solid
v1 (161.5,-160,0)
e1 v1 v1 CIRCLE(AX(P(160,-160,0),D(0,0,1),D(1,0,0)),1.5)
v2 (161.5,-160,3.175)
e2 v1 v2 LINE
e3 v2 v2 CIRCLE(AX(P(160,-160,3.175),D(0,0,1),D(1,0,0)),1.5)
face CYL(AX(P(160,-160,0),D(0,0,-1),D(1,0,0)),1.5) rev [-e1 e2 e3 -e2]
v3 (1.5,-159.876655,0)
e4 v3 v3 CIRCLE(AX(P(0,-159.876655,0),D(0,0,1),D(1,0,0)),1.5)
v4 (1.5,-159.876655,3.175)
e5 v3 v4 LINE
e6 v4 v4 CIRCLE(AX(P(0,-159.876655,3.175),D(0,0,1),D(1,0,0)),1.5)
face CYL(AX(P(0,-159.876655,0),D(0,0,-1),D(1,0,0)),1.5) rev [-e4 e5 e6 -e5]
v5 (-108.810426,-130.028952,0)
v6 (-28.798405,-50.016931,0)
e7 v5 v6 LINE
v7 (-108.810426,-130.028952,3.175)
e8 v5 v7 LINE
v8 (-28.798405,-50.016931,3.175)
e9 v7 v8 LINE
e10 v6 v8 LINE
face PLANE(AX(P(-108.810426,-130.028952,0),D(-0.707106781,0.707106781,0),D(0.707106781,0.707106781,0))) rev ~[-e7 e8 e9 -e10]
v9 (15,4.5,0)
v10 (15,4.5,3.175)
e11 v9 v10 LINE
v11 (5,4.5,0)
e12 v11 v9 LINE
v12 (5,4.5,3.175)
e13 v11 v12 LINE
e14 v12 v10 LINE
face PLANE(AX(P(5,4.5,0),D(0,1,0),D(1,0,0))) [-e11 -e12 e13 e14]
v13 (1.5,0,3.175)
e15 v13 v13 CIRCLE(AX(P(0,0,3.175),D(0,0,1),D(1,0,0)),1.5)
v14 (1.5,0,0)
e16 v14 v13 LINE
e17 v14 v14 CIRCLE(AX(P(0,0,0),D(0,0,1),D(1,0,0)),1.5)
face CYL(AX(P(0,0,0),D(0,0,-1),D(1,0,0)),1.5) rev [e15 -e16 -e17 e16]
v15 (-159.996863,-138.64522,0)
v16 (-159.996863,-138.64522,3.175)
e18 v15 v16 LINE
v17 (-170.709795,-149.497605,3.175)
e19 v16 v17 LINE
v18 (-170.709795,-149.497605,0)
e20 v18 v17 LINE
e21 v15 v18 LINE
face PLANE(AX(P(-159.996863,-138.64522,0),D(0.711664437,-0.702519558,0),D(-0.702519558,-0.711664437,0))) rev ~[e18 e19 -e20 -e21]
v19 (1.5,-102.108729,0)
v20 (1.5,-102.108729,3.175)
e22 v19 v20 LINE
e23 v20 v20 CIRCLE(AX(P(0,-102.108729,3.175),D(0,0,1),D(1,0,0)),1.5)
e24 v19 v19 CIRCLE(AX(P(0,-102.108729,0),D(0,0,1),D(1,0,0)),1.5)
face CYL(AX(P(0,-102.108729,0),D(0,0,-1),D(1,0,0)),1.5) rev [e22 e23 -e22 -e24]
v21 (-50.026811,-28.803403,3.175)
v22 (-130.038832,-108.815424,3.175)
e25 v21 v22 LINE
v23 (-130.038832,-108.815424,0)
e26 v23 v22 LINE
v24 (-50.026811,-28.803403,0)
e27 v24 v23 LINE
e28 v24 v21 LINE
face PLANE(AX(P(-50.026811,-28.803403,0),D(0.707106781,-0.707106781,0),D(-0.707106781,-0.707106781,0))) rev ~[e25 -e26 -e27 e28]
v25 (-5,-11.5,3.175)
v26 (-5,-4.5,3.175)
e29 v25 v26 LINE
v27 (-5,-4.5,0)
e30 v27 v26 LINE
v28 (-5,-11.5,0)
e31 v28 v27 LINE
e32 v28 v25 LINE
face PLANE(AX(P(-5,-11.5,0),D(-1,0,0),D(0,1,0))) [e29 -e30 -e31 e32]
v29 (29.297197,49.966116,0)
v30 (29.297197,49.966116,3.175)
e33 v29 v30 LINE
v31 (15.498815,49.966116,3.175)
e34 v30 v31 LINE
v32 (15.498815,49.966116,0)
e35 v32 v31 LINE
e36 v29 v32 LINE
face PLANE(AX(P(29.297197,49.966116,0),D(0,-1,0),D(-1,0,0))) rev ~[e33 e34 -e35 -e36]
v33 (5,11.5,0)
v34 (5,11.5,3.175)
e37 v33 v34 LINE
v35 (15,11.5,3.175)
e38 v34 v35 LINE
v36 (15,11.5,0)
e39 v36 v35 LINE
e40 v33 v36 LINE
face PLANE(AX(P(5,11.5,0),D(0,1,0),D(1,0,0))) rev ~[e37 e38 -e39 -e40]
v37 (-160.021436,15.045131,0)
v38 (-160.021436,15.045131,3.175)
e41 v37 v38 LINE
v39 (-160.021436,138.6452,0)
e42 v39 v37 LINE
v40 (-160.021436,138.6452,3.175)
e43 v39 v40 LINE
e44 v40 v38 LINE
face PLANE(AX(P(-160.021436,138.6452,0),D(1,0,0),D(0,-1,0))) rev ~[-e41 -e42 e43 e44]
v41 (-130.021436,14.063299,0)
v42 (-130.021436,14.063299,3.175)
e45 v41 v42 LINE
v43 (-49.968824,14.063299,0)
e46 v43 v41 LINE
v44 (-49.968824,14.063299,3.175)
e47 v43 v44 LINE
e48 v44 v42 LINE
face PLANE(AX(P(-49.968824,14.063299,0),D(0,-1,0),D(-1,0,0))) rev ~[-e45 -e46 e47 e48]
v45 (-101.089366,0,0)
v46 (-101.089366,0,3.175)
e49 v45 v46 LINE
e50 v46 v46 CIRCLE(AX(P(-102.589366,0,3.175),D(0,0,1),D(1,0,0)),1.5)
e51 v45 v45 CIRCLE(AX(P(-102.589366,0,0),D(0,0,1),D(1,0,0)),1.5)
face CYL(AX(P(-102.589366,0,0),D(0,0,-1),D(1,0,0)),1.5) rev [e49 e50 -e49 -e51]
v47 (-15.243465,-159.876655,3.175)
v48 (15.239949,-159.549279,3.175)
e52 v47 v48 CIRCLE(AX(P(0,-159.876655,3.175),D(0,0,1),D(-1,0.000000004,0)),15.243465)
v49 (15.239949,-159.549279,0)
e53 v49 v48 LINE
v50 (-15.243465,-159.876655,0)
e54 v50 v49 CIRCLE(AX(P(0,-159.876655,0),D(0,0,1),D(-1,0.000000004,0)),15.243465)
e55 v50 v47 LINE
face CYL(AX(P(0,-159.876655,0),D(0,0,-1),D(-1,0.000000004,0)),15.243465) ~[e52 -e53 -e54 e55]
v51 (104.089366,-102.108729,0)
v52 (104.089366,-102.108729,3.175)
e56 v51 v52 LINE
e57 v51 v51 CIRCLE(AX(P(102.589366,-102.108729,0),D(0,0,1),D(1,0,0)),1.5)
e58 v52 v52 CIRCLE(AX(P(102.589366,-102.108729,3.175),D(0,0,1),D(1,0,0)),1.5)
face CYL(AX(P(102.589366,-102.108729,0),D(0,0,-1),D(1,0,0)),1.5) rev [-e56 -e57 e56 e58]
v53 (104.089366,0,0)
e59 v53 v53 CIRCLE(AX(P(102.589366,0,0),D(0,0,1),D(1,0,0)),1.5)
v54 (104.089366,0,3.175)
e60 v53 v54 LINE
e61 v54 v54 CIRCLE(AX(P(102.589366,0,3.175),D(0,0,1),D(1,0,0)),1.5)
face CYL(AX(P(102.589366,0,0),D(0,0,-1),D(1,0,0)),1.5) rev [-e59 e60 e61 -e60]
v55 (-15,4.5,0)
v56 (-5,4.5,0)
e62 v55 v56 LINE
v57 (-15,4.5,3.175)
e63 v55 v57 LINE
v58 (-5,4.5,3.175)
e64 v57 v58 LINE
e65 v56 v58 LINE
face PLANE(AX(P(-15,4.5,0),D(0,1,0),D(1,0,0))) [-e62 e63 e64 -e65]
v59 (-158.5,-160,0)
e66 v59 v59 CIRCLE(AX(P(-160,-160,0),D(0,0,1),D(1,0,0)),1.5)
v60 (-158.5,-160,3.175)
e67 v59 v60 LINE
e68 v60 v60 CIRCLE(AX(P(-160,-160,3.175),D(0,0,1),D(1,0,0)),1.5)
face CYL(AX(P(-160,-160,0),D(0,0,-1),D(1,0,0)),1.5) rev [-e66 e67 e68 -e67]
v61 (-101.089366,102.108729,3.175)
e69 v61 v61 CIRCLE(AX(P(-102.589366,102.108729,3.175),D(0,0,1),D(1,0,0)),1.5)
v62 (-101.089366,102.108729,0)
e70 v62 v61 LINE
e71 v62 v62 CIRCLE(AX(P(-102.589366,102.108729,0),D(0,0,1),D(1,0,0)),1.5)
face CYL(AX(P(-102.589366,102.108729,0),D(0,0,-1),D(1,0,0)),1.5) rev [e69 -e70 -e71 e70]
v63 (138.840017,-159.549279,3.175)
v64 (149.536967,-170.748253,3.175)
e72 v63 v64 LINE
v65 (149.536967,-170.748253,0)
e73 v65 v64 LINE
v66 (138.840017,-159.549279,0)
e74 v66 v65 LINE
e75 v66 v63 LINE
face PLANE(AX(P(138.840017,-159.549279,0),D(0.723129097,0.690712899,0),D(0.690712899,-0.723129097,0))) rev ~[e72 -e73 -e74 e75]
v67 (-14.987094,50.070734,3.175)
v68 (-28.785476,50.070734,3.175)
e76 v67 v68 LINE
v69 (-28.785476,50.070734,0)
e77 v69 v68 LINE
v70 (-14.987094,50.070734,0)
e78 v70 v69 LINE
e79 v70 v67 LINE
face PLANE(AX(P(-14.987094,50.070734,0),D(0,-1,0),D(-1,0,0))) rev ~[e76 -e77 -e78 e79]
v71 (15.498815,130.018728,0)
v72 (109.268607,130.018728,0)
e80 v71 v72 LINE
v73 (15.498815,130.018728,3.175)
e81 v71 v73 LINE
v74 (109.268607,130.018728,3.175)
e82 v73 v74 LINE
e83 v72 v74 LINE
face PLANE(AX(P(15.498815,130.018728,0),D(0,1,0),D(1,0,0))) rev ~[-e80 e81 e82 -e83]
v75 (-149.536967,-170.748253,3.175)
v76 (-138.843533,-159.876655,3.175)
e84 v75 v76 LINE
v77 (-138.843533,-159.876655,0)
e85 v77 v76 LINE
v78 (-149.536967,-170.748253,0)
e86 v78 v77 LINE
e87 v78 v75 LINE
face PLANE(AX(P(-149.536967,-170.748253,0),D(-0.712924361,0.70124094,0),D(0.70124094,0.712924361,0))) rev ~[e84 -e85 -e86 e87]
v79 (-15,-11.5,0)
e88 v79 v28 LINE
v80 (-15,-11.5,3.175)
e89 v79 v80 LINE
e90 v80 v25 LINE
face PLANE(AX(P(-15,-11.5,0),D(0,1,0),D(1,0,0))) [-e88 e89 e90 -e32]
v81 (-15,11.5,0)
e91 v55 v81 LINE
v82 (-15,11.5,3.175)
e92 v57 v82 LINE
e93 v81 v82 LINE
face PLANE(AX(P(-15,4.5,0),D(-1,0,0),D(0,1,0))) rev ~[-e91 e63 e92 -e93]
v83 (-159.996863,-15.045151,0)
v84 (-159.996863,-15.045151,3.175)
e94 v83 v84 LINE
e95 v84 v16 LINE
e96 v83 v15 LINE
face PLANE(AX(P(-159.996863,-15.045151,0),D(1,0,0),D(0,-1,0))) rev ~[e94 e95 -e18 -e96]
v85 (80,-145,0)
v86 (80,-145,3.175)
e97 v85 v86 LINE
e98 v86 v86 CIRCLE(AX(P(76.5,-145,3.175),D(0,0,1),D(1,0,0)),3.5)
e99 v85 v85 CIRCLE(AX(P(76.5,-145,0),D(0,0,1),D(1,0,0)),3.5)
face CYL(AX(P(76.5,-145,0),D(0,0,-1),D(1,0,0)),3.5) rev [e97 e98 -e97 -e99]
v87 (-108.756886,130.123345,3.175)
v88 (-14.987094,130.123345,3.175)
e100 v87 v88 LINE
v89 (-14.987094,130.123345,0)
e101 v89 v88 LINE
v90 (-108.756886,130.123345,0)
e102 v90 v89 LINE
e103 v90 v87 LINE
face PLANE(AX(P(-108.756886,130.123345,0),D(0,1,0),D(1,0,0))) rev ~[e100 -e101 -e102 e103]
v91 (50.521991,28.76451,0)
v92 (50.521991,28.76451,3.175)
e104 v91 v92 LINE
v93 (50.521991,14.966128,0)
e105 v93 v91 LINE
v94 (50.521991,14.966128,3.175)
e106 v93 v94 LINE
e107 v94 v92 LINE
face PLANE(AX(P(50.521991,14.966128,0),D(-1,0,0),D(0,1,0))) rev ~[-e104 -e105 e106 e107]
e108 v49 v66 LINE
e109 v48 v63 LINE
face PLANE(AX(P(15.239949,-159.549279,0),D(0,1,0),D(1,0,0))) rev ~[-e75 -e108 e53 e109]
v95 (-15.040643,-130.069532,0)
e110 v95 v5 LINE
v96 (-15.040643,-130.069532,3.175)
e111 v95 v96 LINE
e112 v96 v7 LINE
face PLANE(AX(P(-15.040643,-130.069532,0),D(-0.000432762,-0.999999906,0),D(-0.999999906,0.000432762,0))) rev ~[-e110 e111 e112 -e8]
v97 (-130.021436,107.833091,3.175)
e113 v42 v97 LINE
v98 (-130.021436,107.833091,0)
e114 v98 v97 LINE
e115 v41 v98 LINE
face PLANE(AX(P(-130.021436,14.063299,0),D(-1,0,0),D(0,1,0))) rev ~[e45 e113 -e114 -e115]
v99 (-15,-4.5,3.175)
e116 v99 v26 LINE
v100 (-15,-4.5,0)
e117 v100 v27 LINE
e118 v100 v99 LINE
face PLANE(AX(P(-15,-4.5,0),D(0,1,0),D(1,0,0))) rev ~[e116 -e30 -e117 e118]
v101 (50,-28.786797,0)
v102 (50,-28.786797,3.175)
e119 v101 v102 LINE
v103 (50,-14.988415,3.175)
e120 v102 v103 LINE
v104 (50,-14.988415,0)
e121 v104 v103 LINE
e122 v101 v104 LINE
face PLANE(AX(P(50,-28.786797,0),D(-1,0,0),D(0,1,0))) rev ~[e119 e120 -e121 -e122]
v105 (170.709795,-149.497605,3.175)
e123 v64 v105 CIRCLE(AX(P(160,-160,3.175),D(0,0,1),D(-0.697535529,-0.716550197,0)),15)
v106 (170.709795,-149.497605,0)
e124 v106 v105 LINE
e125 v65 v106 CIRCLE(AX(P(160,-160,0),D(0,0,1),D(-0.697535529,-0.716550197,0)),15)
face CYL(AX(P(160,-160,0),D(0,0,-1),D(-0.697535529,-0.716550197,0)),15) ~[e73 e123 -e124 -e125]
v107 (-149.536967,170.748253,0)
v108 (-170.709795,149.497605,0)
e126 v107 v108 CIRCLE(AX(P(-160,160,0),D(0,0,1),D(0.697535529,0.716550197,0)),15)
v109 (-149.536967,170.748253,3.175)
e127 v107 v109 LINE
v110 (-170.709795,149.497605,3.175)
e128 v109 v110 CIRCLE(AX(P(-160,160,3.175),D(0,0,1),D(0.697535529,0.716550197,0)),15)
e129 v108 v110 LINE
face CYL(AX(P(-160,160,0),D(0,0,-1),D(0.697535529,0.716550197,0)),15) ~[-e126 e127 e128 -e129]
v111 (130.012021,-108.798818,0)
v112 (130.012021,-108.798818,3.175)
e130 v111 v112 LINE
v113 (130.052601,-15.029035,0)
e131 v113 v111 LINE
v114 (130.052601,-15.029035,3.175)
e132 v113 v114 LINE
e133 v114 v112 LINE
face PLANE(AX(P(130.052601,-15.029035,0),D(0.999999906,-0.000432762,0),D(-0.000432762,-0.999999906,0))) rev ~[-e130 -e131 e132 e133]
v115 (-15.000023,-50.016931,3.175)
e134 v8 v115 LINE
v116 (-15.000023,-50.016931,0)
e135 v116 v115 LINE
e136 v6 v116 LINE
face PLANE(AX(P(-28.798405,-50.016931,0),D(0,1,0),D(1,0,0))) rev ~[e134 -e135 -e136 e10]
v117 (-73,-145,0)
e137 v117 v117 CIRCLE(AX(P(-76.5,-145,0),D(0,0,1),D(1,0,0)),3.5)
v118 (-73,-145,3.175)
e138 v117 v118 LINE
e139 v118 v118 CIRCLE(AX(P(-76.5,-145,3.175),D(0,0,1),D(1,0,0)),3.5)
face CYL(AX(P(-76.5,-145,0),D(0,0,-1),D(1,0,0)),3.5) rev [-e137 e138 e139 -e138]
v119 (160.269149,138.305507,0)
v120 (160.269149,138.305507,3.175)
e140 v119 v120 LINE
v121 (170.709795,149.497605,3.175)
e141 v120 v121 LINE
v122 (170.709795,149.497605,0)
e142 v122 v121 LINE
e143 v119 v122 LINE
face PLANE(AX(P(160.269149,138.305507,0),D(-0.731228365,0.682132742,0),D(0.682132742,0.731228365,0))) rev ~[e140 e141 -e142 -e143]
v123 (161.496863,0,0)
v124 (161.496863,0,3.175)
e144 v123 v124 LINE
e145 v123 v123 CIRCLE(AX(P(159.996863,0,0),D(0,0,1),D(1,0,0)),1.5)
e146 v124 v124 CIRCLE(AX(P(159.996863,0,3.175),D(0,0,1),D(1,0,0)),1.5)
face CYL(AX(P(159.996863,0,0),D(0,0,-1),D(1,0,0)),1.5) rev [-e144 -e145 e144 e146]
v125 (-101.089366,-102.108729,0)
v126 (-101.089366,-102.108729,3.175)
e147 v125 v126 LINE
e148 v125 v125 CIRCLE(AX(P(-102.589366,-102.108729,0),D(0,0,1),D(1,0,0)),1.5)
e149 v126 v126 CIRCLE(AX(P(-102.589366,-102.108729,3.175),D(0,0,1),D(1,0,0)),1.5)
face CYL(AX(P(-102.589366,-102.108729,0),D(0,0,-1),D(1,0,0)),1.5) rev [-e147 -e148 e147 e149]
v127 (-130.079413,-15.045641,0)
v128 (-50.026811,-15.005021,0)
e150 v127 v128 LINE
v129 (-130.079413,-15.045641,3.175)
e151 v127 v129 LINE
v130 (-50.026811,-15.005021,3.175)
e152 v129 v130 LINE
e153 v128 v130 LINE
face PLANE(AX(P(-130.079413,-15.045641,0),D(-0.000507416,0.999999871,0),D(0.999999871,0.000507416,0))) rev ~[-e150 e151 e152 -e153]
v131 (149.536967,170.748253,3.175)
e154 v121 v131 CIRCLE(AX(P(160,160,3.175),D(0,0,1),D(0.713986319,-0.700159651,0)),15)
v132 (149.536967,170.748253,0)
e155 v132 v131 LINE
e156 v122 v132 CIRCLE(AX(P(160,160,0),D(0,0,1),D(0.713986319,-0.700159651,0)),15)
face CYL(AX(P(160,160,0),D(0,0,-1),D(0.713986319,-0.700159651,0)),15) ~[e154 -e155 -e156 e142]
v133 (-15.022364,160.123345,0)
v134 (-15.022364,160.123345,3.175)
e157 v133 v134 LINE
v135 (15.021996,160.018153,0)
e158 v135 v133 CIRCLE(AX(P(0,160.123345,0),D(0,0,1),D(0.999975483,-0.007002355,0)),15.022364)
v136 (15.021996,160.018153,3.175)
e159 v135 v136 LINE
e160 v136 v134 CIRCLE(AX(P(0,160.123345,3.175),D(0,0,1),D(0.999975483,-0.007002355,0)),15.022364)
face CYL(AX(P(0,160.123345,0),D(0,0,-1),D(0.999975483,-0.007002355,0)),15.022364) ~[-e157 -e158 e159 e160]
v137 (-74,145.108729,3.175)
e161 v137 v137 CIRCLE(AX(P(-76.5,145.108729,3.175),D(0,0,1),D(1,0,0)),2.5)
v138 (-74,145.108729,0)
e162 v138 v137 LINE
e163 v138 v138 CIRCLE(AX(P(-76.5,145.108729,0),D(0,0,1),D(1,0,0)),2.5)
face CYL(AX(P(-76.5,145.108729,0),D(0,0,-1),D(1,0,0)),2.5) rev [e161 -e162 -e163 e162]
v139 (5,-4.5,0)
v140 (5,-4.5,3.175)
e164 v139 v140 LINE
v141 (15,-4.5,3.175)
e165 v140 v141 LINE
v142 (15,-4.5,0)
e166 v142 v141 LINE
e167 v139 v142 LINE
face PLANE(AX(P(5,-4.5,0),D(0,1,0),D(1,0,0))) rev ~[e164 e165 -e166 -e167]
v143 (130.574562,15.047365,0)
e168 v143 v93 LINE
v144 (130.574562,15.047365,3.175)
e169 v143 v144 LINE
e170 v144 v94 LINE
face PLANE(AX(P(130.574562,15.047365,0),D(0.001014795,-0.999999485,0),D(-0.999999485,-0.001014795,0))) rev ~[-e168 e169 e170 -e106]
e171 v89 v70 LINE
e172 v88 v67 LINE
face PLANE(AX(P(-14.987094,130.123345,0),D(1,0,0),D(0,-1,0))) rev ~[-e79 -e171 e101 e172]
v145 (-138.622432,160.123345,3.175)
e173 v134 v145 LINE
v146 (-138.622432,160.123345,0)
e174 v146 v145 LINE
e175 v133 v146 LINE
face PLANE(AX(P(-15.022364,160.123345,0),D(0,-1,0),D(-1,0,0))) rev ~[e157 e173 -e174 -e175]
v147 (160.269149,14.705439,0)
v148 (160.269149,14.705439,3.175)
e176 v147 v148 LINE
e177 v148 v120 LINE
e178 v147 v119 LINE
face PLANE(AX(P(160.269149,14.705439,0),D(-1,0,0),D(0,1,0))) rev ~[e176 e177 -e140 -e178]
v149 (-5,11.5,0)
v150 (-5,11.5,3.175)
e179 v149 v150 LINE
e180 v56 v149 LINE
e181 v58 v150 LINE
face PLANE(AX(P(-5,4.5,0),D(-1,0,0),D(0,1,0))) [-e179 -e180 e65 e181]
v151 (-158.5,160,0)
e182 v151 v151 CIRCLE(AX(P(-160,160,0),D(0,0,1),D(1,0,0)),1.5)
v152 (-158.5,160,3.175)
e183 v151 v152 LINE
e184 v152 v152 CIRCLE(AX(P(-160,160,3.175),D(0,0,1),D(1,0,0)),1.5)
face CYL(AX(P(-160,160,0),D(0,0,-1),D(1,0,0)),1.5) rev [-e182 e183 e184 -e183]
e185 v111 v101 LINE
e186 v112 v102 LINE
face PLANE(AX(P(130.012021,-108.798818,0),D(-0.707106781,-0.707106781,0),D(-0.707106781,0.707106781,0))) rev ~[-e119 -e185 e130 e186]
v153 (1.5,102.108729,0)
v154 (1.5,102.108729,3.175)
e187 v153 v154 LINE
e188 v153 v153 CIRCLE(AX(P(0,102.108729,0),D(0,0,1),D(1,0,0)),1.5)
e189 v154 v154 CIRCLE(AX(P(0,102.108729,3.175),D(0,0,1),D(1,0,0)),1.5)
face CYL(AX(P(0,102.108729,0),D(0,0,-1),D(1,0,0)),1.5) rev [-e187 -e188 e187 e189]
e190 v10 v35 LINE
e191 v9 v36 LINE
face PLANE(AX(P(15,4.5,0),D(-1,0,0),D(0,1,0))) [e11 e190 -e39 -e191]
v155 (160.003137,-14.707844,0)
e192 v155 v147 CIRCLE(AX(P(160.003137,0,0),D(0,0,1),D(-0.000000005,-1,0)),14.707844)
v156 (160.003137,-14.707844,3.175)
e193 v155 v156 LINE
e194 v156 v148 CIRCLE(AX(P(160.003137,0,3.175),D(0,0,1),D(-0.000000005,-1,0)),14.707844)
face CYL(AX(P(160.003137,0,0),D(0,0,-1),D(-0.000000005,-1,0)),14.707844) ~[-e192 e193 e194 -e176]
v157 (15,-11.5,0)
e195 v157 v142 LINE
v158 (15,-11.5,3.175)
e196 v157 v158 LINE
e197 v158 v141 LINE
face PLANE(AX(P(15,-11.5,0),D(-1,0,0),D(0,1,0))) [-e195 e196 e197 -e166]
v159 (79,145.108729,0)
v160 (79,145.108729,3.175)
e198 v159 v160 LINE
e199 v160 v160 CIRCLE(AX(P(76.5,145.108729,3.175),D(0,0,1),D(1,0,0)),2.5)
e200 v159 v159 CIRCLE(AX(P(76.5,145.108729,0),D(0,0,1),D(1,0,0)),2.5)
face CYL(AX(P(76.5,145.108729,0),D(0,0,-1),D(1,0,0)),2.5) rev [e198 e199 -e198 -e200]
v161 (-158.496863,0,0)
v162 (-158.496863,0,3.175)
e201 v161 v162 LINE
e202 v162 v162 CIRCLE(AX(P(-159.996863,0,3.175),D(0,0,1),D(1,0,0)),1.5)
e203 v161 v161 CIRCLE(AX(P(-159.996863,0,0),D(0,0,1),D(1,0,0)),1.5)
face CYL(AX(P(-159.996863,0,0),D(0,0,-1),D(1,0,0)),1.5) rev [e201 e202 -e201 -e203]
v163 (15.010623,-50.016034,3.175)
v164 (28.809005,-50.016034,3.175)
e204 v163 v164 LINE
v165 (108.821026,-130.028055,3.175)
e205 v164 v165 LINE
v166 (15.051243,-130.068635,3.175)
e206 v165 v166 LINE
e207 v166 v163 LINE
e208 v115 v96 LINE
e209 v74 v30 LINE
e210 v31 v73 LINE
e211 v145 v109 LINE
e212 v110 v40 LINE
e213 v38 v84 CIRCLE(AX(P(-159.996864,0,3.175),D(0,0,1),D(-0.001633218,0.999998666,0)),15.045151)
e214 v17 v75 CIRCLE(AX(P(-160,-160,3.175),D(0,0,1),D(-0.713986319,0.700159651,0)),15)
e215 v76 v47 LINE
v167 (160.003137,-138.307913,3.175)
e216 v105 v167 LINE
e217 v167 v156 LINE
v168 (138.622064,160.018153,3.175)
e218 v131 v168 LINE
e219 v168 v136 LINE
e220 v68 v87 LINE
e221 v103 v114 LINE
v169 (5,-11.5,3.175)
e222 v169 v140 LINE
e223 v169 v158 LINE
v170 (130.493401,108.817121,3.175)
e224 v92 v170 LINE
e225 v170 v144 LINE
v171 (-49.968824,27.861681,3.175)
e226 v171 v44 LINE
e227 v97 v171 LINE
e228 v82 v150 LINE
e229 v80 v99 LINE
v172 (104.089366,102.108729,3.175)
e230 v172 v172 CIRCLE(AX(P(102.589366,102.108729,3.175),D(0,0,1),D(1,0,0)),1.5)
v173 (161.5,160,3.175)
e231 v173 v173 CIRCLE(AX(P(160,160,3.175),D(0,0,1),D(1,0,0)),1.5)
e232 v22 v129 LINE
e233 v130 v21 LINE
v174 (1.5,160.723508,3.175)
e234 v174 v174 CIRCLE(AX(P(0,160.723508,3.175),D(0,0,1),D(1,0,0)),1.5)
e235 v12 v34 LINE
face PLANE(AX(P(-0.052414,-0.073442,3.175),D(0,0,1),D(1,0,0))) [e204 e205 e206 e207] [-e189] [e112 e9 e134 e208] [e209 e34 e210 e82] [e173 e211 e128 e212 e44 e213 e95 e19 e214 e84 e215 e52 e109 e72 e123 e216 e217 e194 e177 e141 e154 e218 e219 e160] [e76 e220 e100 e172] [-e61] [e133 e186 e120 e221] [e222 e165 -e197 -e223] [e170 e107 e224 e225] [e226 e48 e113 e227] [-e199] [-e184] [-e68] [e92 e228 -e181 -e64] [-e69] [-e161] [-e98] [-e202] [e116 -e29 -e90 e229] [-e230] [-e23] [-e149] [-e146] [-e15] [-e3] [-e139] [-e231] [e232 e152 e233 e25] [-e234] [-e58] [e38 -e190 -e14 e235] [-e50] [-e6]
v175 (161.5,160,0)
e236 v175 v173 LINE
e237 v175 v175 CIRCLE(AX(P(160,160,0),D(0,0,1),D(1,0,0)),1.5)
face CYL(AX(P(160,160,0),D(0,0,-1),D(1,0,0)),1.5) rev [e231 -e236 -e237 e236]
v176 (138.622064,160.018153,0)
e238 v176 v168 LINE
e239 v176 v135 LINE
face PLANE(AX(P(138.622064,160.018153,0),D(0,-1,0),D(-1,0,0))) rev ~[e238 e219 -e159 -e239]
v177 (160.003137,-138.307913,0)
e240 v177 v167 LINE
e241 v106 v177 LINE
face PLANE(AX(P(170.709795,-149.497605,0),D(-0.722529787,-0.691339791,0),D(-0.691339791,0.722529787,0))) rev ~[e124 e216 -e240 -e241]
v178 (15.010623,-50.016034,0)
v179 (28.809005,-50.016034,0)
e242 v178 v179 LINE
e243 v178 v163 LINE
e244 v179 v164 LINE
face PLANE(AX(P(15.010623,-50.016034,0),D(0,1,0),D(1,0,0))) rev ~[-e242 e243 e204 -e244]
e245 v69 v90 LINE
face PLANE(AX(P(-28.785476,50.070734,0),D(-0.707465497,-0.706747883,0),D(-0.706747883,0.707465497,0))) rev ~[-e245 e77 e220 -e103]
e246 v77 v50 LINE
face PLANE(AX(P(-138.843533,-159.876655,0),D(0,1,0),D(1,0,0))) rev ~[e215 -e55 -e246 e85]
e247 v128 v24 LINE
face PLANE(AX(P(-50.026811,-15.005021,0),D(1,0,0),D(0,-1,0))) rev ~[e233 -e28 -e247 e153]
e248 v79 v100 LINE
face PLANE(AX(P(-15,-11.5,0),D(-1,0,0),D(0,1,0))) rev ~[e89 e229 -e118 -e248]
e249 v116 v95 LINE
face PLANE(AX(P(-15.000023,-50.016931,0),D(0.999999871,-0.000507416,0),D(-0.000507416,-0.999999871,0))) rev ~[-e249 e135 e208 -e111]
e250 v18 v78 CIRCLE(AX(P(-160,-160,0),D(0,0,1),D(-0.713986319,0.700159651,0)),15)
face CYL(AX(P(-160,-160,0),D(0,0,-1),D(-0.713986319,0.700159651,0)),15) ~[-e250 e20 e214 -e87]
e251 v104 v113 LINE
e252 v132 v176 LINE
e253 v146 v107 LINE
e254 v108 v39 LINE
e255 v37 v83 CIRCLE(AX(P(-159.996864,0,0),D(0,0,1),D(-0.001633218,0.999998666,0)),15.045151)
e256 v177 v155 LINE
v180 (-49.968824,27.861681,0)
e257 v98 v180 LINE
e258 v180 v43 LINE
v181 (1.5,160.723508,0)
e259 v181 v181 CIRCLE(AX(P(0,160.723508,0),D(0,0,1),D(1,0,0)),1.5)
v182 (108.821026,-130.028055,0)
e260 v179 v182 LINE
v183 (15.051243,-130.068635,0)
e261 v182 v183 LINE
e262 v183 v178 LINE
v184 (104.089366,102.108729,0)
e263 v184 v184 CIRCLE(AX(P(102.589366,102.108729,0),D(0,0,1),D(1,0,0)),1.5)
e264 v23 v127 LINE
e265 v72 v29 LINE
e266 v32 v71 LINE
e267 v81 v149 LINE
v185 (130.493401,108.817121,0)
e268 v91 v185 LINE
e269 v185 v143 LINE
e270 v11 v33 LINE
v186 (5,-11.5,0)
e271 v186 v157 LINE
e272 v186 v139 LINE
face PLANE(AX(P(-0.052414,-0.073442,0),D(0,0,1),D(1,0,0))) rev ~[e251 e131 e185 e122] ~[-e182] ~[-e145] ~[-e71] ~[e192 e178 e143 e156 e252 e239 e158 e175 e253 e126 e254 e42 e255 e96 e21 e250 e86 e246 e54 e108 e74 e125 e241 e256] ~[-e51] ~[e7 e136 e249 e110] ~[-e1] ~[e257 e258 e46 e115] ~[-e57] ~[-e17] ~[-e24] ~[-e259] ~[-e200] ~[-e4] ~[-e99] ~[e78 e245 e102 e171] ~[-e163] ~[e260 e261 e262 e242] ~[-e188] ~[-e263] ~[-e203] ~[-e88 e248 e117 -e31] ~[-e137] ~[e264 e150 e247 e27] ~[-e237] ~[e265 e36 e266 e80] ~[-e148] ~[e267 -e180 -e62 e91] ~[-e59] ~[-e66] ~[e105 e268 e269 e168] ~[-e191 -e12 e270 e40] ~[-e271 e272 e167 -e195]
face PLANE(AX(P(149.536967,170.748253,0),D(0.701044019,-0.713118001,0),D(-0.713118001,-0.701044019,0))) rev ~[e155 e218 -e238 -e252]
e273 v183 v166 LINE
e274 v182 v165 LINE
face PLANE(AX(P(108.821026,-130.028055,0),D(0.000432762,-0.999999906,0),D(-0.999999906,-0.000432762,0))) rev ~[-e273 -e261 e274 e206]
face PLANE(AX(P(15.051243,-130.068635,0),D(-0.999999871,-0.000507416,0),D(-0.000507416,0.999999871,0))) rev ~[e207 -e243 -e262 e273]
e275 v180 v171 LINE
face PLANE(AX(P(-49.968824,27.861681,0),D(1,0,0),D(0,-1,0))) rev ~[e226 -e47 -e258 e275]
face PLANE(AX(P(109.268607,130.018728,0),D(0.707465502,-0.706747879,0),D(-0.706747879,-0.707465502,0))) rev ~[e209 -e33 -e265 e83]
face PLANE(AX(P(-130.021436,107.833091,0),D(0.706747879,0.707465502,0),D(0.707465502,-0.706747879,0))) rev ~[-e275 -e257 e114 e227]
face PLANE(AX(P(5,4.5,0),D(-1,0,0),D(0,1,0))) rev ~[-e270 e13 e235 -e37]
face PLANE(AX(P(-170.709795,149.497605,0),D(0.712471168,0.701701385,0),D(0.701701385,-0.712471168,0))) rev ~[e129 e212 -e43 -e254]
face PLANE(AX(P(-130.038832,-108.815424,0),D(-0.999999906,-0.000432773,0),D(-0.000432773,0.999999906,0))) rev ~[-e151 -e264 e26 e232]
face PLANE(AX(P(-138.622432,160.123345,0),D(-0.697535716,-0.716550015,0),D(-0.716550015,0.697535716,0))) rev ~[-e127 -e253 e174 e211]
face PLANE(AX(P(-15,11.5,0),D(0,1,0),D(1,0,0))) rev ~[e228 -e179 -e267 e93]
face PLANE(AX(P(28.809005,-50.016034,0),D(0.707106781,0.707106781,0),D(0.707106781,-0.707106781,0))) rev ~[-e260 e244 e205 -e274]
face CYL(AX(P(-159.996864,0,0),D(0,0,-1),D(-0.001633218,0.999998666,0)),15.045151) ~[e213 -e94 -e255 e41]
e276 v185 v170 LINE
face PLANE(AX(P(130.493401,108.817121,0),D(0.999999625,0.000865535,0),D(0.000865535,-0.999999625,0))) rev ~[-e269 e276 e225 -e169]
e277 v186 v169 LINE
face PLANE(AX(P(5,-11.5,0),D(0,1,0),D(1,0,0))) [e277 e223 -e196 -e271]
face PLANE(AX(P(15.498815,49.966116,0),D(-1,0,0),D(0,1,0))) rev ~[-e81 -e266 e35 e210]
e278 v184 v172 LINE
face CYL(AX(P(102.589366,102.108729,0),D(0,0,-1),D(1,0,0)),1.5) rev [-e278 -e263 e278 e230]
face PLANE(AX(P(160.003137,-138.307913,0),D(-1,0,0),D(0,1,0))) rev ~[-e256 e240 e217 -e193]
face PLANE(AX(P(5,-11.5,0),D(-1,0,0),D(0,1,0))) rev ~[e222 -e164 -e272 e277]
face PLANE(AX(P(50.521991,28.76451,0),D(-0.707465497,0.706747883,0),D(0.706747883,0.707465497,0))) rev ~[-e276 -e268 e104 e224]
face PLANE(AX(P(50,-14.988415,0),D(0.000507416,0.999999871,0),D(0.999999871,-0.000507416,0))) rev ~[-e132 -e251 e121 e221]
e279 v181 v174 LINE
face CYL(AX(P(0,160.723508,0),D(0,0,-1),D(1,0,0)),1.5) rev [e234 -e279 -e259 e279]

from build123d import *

# Parameters (mm, degrees)
F0_R     = 1.5
F0_R_2   = 3.5
F0_W     = 10
F0_H     = 7
F0_R_3   = 2.5
F1_DEPTH = 3.175


with BuildPart() as f1:
    # F0 (on Top) → F1 (new body)
    with BuildSketch(Plane.XY):
        with BuildLine():
            Line((-170.709795, 149.497605), (-160.021436, 138.6452))
            Line((-160.021436, 138.6452), (-160.021436, 15.045131))
            ThreePointArc((-160.021436, 15.045131), (-175.04201, -0.012286), (-159.996863, -15.045151))
            Line((-159.996863, -15.045151), (-159.996863, -138.64522))
            Line((-159.996863, -138.64522), (-170.709795, -149.497605))
            ThreePointArc((-170.709795, -149.497605), (-170.62604, -170.587128), (-149.536967, -170.748253))
            Line((-149.536967, -170.748253), (-138.843533, -159.876655))
            Line((-138.843533, -159.876655), (-15.243465, -159.876655))
            ThreePointArc((-15.243465, -159.876655), (0.163697, -175.119241), (15.239949, -159.549279))
            Line((15.239949, -159.549279), (138.840017, -159.549279))
            Line((138.840017, -159.549279), (149.536967, -170.748253))
            ThreePointArc((149.536967, -170.748253), (170.62604, -170.587128), (170.709795, -149.497605))
            Line((170.709795, -149.497605), (160.003137, -138.307913))
            Line((160.003137, -138.307913), (160.003137, -14.707844))
            ThreePointArc((160.003137, -14.707844), (174.71038, -0.133012), (160.269149, 14.705439))
            Line((160.269149, 14.705439), (160.269149, 138.305507))
            Line((160.269149, 138.305507), (170.709795, 149.497605))
            ThreePointArc((170.709795, 149.497605), (170.62604, 170.587128), (149.536967, 170.748253))
            Line((149.536967, 170.748253), (138.622064, 160.018153))
            Line((138.622064, 160.018153), (15.021996, 160.018153))
            ThreePointArc((15.021996, 160.018153), (0.052596, 175.145617), (-15.022364, 160.123345))
            Line((-15.022364, 160.123345), (-138.622432, 160.123345))
            Line((-138.622432, 160.123345), (-149.536967, 170.748253))
            ThreePointArc((-149.536967, 170.748253), (-170.62604, 170.587128), (-170.709795, 149.497605))
        make_face()
        with Locations((-160, -160)):
            Circle(F0_R, mode=Mode.SUBTRACT)
        with Locations((-102.589366, -102.108729)):
            Circle(F0_R, mode=Mode.SUBTRACT)
        with Locations((-76.5, -145)):
            Circle(F0_R_2, mode=Mode.SUBTRACT)
        Polygon((-15.040643, -130.069532), (-108.810426, -130.028952), (-28.798405, -50.016931), (-15.000023, -50.016931), align=None, mode=Mode.SUBTRACT)
        Polygon((-50.026811, -28.803403), (-130.038832, -108.815424), (-130.079413, -15.045641), (-50.026811, -15.005021), align=None, mode=Mode.SUBTRACT)
        with Locations((-159.996863, 0)):
            Circle(F0_R, mode=Mode.SUBTRACT)
        with Locations((-102.589366, 0)):
            Circle(F0_R, mode=Mode.SUBTRACT)
        with Locations((-10, -8)):
            Rectangle(F0_W, F0_H, mode=Mode.SUBTRACT)
        with Locations((0, -159.876655)):
            Circle(F0_R, mode=Mode.SUBTRACT)
        with Locations((76.5, -145)):
            Circle(F0_R_2, mode=Mode.SUBTRACT)
        with Locations((0, -102.108729)):
            Circle(F0_R, mode=Mode.SUBTRACT)
        Polygon((28.809005, -50.016034), (108.821026, -130.028055), (15.051243, -130.068635), (15.010623, -50.016034), align=None, mode=Mode.SUBTRACT)
        with Locations((160, -160)):
            Circle(F0_R, mode=Mode.SUBTRACT)
        with Locations((102.589366, -102.108729)):
            Circle(F0_R, mode=Mode.SUBTRACT)
        with Locations((10, -8)):
            Rectangle(F0_W, F0_H, mode=Mode.SUBTRACT)
        Circle(F0_R, mode=Mode.SUBTRACT)
        Polygon((130.052601, -15.029035), (130.012021, -108.798818), (50, -28.786797), (50, -14.988415), align=None, mode=Mode.SUBTRACT)
        with Locations((102.589366, 0)):
            Circle(F0_R, mode=Mode.SUBTRACT)
        with Locations((159.996863, 0)):
            Circle(F0_R, mode=Mode.SUBTRACT)
        Polygon((-130.021436, 14.063299), (-130.021436, 107.833091), (-49.968824, 27.861681), (-49.968824, 14.063299), align=None, mode=Mode.SUBTRACT)
        with Locations((-10, 8)):
            Rectangle(F0_W, F0_H, mode=Mode.SUBTRACT)
        with Locations((-102.589366, 102.108729)):
            Circle(F0_R, mode=Mode.SUBTRACT)
        with Locations((-160, 160)):
            Circle(F0_R, mode=Mode.SUBTRACT)
        Polygon((-28.785476, 50.070734), (-108.756886, 130.123345), (-14.987094, 130.123345), (-14.987094, 50.070734), align=None, mode=Mode.SUBTRACT)
        with Locations((-76.5, 145.108729)):
            Circle(F0_R_3, mode=Mode.SUBTRACT)
        with Locations((10, 8)):
            Rectangle(F0_W, F0_H, mode=Mode.SUBTRACT)
        Polygon((50.521991, 28.76451), (130.493401, 108.817121), (130.574562, 15.047365), (50.521991, 14.966128), align=None, mode=Mode.SUBTRACT)
        with Locations((0, 102.108729)):
            Circle(F0_R, mode=Mode.SUBTRACT)
        Polygon((15.498815, 130.018728), (109.268607, 130.018728), (29.297197, 49.966116), (15.498815, 49.966116), align=None, mode=Mode.SUBTRACT)
        with Locations((0, 160.723508)):
            Circle(F0_R, mode=Mode.SUBTRACT)
        with Locations((76.5, 145.108729)):
            Circle(F0_R_3, mode=Mode.SUBTRACT)
        with Locations((102.589366, 102.108729)):
            Circle(F0_R, mode=Mode.SUBTRACT)
        with Locations((160, 160)):
            Circle(F0_R, mode=Mode.SUBTRACT)
    extrude(amount=F1_DEPTH)


solid = f1.part
